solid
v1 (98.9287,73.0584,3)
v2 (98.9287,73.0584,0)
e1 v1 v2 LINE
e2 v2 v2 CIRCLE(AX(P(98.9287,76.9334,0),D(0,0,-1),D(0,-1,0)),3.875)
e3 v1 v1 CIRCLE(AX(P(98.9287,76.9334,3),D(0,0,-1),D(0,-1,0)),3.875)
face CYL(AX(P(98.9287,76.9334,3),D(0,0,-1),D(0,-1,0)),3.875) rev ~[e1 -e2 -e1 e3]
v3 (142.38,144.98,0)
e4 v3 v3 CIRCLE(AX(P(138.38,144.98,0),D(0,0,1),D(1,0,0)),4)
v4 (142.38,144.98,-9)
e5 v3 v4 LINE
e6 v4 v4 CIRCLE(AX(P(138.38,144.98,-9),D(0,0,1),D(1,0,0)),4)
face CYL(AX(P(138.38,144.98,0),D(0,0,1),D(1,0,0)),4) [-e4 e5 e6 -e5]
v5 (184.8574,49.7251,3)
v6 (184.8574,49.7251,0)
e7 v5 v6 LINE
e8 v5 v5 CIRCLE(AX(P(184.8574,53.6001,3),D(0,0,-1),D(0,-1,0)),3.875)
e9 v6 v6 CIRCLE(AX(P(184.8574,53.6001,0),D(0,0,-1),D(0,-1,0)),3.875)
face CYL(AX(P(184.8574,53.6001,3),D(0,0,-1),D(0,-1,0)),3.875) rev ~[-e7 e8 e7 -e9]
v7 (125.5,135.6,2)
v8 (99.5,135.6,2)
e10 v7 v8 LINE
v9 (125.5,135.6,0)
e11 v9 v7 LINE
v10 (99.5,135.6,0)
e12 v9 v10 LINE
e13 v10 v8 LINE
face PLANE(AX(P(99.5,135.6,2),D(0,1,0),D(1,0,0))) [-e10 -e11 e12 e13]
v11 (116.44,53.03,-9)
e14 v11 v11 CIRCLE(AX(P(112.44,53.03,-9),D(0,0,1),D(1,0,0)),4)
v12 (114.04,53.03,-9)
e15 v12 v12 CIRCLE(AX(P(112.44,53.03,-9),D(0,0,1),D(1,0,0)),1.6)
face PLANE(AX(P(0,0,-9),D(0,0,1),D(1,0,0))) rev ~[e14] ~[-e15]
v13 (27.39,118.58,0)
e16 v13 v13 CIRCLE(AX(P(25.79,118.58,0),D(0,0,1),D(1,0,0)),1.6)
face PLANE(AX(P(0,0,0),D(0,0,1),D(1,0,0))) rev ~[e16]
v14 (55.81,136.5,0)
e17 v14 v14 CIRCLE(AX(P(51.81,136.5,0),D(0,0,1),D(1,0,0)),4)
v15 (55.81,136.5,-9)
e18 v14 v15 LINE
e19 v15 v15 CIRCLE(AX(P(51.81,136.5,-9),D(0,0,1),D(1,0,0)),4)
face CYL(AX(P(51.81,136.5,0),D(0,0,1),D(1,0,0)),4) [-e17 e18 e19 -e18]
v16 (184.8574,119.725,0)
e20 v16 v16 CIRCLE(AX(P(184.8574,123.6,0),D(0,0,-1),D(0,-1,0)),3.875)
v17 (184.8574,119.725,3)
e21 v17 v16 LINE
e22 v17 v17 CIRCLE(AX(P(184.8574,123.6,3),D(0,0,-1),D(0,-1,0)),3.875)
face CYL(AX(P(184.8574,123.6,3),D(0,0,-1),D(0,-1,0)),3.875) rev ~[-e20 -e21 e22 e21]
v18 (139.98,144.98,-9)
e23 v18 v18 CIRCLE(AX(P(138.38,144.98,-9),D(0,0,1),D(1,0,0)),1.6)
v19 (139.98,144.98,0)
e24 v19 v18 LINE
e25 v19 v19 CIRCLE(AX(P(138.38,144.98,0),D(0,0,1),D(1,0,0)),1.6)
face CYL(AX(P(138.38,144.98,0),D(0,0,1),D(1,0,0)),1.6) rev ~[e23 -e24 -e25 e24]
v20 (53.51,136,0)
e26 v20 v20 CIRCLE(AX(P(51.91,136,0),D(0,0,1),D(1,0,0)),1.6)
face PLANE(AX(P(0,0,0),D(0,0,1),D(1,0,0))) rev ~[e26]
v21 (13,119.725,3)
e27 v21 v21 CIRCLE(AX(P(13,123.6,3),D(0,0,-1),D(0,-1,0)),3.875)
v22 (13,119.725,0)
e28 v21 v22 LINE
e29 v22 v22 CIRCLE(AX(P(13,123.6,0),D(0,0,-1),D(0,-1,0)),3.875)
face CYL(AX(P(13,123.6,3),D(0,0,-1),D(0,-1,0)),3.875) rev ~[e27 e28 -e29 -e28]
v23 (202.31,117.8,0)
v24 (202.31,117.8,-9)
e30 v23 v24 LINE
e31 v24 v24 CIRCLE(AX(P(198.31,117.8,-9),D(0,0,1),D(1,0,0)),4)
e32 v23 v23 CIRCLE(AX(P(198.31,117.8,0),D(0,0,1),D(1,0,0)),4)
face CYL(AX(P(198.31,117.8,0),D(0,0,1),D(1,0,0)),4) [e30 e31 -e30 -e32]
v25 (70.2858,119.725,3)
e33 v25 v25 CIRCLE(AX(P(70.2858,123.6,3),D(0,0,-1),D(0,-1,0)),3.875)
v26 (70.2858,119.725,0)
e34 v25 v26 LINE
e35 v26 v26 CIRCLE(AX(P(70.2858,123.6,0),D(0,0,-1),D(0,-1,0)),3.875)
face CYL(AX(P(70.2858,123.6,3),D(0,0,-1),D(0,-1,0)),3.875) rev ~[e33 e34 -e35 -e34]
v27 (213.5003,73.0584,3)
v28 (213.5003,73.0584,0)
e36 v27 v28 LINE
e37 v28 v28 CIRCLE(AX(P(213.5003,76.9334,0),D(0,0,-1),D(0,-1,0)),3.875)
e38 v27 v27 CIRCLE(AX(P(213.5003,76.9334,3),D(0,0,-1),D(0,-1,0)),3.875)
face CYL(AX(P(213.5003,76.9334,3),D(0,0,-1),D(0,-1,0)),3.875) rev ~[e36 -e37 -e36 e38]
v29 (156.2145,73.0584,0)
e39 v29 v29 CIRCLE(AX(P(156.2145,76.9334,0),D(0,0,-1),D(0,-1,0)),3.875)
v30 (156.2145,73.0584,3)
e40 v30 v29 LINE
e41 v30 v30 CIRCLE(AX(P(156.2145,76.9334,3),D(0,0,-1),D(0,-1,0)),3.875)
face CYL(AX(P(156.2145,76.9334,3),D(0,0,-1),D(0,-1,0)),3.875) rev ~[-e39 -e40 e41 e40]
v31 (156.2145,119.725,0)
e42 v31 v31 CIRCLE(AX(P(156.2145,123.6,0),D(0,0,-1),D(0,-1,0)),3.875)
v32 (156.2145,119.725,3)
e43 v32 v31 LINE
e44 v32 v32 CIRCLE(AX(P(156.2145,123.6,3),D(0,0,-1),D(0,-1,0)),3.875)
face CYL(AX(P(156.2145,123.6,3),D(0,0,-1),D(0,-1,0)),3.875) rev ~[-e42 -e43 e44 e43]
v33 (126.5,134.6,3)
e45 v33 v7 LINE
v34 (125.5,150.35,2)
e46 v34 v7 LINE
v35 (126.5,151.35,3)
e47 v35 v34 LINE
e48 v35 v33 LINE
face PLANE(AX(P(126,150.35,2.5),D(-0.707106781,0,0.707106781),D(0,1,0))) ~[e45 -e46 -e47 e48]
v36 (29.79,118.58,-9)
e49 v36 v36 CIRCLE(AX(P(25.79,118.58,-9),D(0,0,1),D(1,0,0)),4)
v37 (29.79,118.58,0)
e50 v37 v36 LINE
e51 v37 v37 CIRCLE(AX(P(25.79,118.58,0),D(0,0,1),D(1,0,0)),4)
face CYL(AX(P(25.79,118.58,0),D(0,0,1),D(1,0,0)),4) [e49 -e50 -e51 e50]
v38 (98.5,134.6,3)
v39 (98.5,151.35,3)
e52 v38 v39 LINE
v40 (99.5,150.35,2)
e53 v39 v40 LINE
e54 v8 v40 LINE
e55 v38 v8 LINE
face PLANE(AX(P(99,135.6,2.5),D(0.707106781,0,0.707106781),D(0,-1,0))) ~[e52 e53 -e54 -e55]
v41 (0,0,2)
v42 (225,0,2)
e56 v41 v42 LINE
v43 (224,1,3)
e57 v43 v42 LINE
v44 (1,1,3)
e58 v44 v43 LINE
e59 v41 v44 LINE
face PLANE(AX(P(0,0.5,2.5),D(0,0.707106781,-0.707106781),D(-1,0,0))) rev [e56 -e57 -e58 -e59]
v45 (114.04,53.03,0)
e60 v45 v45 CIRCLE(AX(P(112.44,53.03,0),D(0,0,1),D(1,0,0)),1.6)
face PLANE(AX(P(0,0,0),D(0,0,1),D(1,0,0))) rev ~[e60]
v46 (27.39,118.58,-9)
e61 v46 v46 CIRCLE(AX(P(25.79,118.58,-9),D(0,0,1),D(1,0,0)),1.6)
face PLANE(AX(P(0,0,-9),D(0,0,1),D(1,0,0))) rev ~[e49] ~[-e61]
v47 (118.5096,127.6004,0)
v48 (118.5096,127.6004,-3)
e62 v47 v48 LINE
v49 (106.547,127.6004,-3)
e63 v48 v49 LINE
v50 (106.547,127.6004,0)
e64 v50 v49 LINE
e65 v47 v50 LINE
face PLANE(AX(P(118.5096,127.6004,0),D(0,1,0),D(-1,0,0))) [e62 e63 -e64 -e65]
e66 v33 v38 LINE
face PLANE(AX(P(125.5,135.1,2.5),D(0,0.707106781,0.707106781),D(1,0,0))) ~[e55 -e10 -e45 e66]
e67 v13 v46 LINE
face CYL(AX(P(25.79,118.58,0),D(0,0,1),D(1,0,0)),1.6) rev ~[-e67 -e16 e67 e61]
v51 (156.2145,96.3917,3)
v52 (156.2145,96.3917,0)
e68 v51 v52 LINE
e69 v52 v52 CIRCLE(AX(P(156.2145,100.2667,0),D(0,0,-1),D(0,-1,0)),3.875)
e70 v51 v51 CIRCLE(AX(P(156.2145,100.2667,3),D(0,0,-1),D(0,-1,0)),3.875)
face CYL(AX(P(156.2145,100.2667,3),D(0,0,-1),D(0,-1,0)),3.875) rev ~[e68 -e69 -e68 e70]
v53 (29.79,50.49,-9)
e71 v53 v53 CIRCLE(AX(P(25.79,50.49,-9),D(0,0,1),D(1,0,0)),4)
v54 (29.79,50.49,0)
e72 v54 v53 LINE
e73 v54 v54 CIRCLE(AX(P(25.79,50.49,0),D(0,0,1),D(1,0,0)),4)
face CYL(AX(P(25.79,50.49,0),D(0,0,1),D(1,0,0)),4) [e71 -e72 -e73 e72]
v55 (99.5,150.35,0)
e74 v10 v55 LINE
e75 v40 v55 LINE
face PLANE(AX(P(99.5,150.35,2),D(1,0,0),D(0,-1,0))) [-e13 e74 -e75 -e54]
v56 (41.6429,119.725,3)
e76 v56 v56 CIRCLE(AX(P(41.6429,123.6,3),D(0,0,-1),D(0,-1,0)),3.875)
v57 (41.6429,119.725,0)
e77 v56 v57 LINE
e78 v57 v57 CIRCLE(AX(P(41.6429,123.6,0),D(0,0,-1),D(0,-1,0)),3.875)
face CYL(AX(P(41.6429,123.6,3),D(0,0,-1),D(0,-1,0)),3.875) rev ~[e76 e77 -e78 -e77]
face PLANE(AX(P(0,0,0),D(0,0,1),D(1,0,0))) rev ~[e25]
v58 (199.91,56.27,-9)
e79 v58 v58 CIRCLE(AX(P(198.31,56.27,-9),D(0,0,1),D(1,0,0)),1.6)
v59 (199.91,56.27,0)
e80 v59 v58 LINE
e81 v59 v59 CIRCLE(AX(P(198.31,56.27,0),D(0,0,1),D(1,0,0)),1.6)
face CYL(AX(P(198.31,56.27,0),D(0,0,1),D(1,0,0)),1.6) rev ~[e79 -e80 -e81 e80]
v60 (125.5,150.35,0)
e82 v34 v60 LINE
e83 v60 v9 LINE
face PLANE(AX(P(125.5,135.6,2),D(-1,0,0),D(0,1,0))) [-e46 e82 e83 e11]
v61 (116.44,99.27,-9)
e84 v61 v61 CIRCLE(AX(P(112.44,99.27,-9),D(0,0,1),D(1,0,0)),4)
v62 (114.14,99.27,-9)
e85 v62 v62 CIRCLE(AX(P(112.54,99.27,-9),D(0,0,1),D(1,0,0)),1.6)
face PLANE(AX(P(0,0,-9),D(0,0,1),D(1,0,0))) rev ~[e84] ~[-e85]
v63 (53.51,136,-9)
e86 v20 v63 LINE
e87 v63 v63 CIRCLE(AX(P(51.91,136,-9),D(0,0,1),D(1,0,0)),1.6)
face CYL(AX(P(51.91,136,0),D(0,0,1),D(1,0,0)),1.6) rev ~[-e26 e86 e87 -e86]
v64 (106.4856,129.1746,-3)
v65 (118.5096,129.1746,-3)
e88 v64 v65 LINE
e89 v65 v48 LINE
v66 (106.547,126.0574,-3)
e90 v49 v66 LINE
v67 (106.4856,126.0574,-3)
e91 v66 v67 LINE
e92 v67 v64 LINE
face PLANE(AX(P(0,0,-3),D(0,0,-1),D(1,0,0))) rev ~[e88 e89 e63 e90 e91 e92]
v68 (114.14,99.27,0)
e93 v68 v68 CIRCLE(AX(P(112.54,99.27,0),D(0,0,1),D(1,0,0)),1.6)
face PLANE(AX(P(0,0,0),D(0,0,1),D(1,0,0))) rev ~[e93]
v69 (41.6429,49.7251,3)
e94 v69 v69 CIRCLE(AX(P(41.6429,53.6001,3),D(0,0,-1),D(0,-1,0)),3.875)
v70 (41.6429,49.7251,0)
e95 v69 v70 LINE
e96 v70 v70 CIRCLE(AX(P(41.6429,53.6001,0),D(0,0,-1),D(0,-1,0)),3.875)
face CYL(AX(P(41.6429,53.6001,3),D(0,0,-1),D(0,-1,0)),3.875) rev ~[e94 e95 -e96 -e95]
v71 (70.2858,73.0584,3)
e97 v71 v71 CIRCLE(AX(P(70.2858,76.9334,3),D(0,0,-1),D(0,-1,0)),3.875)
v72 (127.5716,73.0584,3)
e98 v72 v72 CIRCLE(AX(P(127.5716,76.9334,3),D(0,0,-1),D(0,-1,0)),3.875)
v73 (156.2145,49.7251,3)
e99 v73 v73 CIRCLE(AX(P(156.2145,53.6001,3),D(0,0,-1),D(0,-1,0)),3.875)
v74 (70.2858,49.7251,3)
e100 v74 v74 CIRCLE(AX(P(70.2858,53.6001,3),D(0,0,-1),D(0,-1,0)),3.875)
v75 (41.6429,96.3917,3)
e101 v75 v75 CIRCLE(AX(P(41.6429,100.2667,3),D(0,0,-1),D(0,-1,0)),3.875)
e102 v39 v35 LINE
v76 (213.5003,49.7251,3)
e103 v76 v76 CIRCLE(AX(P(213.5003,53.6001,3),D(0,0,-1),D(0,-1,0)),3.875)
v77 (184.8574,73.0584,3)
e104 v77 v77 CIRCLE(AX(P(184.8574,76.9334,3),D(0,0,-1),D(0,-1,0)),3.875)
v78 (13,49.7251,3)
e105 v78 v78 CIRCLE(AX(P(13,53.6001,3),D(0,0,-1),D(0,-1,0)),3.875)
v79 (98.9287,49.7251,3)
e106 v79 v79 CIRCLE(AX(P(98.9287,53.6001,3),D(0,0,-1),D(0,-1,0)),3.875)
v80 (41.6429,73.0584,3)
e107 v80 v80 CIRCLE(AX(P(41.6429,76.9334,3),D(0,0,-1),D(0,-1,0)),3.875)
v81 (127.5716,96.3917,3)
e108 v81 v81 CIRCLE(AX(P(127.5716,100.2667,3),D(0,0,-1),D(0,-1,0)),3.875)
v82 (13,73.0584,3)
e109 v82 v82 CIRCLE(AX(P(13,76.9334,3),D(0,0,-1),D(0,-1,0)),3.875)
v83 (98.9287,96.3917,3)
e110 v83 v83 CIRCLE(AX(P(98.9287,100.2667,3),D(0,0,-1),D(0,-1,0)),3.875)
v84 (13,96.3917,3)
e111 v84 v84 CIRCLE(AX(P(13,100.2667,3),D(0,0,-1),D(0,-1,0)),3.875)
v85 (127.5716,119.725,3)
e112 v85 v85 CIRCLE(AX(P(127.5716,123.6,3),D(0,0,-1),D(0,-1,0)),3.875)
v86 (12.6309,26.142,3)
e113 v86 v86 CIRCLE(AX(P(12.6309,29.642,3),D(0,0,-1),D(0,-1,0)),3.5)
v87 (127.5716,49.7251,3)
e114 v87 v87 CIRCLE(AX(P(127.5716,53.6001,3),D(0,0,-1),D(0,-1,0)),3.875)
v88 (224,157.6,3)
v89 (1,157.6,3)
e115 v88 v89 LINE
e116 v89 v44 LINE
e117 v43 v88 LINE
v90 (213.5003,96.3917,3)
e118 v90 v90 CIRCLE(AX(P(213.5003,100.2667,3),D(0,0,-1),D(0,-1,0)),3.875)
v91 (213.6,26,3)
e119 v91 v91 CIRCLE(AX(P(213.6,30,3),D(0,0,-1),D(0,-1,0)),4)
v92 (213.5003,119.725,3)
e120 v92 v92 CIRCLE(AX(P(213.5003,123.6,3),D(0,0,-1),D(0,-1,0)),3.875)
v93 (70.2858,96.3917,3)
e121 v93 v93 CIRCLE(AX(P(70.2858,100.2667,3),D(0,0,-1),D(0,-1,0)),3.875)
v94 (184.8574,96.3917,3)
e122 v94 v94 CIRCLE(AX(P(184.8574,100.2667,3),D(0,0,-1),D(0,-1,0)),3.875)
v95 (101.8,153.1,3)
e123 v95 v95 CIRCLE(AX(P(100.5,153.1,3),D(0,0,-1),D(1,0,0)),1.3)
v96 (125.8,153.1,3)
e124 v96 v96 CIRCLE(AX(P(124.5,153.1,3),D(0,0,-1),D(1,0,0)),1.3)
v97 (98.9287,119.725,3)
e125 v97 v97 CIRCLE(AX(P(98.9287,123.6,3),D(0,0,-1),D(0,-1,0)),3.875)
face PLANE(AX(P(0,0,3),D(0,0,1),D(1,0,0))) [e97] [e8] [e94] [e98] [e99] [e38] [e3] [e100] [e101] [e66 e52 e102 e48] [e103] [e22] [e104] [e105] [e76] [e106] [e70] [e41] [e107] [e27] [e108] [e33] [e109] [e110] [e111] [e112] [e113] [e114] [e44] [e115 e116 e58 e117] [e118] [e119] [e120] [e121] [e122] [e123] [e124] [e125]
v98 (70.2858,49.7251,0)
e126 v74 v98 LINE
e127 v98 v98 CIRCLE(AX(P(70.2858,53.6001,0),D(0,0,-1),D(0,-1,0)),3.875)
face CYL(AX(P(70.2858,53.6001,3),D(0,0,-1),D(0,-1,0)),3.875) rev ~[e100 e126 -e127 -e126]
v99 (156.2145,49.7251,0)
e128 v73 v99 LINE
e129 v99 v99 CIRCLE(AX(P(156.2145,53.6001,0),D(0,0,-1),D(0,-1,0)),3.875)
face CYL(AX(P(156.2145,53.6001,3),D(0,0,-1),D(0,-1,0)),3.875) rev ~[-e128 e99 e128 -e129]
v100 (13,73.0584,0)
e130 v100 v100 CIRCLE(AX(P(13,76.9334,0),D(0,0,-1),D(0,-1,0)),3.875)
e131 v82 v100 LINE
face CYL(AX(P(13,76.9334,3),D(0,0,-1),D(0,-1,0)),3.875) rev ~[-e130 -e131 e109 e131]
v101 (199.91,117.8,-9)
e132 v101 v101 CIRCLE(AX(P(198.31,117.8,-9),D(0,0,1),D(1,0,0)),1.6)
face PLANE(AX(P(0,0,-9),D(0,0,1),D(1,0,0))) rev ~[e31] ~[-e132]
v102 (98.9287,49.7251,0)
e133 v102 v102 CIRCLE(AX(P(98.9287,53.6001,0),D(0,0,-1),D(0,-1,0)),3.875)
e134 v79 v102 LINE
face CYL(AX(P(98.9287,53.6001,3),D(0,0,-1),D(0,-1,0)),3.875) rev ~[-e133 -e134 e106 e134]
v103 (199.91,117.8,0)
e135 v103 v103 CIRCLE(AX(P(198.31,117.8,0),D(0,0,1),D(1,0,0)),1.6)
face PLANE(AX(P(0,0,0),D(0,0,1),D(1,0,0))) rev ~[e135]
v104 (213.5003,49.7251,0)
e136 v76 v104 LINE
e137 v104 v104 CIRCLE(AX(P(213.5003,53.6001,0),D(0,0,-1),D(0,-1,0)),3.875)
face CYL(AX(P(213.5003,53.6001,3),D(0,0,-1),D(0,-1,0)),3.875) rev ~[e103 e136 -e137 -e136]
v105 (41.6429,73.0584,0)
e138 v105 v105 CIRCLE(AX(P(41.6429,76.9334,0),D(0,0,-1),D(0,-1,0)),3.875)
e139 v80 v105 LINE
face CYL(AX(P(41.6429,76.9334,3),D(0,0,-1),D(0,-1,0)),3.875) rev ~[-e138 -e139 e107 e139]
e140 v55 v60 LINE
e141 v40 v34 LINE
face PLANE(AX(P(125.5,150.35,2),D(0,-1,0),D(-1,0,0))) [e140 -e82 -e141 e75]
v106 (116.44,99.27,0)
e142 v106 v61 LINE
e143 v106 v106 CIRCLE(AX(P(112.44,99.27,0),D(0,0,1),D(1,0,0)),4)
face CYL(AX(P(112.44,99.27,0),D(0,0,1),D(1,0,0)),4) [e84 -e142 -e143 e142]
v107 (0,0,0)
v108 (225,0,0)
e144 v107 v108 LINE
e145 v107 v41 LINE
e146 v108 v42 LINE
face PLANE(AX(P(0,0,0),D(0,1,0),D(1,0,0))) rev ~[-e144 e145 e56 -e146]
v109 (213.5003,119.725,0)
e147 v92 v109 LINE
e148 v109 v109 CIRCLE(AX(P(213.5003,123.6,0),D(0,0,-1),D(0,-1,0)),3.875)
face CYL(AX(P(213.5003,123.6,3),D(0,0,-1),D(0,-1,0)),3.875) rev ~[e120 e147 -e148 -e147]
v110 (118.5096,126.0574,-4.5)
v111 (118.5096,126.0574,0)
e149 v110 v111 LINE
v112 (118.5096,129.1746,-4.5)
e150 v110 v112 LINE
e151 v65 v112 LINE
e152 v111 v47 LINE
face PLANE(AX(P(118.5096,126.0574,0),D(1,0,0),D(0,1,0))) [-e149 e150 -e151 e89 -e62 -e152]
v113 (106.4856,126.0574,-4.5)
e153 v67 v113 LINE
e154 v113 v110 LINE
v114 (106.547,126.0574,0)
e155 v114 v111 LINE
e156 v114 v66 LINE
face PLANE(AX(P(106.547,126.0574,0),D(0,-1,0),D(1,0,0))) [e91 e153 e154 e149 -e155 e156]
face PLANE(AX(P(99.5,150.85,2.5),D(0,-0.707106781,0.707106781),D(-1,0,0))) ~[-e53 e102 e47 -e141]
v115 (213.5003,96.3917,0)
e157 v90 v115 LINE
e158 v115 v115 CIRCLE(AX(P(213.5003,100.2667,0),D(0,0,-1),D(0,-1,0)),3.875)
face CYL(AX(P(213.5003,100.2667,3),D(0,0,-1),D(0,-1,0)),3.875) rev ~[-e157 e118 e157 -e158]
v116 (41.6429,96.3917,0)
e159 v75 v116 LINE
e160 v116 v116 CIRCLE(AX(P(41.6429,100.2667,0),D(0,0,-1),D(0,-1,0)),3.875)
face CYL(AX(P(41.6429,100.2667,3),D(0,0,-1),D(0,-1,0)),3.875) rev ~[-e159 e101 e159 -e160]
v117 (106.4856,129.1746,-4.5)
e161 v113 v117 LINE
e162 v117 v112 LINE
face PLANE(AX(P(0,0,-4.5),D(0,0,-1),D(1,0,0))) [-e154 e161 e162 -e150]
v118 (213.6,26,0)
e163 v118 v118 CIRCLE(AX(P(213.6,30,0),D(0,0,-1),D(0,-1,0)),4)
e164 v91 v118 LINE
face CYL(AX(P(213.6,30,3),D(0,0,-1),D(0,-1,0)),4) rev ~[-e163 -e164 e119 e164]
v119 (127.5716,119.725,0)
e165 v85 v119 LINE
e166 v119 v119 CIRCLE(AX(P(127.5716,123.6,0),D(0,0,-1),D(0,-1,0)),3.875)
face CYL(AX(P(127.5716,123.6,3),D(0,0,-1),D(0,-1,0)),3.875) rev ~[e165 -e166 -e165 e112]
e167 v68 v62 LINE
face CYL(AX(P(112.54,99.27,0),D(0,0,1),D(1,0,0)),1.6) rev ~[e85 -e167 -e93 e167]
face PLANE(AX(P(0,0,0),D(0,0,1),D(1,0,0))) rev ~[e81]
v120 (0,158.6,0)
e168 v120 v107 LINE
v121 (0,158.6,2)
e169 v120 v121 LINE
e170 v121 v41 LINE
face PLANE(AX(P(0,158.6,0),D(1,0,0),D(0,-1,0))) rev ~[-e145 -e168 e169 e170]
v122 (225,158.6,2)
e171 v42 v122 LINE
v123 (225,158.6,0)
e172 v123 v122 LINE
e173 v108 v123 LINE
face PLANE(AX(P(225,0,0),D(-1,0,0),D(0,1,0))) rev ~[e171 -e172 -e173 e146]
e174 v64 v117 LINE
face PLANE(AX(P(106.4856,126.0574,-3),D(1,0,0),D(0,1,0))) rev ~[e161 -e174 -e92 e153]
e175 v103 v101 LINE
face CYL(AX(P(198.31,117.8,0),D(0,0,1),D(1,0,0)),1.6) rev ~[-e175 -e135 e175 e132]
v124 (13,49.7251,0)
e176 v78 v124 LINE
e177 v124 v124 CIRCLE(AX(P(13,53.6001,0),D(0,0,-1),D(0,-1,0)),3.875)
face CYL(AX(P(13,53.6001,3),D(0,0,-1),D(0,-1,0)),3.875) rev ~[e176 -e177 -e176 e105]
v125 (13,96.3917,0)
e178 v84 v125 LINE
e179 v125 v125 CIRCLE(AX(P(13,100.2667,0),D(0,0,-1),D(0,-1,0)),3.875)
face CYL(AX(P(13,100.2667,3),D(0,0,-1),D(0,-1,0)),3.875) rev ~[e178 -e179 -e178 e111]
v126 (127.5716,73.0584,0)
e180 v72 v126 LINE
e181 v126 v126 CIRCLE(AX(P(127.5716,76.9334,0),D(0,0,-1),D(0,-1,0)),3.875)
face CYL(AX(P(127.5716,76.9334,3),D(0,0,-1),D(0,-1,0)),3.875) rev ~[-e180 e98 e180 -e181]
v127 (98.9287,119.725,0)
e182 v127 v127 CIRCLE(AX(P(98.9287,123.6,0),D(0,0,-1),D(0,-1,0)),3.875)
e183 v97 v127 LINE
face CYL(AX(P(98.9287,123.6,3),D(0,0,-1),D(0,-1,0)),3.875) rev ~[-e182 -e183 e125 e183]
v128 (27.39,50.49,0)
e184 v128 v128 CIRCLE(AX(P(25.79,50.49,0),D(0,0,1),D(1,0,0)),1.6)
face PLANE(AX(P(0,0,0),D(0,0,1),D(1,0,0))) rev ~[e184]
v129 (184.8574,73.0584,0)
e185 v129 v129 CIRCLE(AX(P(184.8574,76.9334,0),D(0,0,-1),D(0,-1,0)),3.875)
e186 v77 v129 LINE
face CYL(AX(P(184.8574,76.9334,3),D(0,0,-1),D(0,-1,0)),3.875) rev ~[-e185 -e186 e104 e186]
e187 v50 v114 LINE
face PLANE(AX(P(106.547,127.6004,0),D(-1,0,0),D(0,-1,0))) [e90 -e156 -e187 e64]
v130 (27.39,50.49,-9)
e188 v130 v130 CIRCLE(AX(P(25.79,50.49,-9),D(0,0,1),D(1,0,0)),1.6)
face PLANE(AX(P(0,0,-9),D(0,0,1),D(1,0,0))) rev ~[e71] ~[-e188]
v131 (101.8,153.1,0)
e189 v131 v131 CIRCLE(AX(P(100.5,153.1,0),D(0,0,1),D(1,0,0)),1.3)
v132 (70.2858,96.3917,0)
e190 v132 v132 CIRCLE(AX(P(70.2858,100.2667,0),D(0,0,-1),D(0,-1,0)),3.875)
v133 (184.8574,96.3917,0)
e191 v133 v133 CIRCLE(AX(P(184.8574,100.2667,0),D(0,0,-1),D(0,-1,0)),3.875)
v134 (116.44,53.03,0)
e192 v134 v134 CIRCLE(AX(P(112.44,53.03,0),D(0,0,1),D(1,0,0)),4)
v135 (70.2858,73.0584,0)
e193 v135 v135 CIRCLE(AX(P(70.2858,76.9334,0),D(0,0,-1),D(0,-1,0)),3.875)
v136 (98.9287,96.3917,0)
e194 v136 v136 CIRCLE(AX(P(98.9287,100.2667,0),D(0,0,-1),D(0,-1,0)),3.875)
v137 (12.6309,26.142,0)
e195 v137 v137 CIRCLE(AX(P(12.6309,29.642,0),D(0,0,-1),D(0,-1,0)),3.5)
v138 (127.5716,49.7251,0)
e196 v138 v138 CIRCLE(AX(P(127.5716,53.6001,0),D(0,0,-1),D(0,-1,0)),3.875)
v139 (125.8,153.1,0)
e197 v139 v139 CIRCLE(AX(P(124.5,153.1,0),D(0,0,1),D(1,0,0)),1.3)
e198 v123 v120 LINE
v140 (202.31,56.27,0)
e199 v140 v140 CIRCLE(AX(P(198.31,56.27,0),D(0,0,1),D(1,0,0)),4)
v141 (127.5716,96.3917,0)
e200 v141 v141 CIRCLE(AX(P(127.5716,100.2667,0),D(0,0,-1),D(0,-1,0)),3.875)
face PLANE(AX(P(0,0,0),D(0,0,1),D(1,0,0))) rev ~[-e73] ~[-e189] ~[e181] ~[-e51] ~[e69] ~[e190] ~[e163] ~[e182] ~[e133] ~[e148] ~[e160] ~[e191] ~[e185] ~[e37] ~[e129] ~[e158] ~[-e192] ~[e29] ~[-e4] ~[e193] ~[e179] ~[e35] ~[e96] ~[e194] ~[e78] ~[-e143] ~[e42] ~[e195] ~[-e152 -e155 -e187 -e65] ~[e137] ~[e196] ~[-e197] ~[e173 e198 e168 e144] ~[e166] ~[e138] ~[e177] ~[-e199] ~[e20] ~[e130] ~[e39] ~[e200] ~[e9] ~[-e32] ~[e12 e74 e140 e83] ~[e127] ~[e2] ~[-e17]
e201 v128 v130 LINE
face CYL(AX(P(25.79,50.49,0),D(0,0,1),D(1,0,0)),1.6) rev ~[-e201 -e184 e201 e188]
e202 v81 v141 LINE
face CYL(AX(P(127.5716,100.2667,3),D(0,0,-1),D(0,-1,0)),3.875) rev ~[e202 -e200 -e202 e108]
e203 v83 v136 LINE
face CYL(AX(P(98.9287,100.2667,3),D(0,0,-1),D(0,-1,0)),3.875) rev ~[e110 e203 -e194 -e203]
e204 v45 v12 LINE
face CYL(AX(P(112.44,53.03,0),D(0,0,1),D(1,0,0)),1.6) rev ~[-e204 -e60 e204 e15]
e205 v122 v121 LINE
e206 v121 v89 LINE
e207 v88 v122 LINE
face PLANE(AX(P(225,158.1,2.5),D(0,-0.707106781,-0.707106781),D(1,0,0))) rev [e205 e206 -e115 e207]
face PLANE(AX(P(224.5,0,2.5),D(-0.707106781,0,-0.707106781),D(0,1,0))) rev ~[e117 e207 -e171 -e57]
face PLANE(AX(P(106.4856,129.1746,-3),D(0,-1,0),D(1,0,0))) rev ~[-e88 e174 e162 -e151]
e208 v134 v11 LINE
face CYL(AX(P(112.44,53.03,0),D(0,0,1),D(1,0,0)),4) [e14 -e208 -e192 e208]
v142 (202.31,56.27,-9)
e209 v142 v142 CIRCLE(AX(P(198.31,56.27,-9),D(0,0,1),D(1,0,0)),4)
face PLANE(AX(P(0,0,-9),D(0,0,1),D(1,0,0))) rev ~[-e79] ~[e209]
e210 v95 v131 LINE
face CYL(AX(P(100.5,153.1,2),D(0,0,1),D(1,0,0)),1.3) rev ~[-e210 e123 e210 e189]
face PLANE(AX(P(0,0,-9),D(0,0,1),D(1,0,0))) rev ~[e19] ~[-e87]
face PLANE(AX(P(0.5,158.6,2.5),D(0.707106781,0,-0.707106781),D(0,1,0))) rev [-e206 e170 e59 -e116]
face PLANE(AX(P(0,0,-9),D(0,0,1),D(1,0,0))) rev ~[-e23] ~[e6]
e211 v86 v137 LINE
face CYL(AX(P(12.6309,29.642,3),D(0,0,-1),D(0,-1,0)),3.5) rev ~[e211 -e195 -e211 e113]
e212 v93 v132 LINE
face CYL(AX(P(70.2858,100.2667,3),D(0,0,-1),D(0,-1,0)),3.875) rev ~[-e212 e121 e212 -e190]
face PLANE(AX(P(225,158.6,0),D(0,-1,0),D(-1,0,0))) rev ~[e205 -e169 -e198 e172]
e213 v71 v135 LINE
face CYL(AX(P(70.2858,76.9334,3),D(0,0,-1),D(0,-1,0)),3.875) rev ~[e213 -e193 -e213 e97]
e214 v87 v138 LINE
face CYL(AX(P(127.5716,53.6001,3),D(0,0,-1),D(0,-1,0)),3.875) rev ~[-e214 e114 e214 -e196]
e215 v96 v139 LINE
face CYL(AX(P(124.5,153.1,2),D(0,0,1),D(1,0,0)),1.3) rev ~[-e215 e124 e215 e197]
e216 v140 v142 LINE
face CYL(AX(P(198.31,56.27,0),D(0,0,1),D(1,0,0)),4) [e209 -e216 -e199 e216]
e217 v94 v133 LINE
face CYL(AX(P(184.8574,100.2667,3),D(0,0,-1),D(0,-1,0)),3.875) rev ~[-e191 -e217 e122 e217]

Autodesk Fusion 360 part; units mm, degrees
sketch "Sketch1" plane through (0, 0, 0) normal (0, 0, 1) x (1, 0, 0)
  line L0 (0, 0) -> (225, 0)
  line L1 (225, 0) -> (225, 158.6)
  line L2 (225, 158.6) -> (0, 158.6)
  line L3 (0, 158.6) -> (0, 0)
  dimension "d1" = 158.6
  dimension "d2" = 225
extrude "Extrude1" add sketch "Sketch1" along normal blind 3
sketch "Sketch2" plane through (0, 0, 3) normal (0, 0, 1) x (-1, 0, 0)
  line L0 (0, -158.6) -> (0, 0)
  line L1 (0, 0) -> (-225, 0)
  line L2 (-225, 0) -> (-225, -158.6)
  line L3 (-225, -158.6) -> (0, -158.6)
  circle A0 centre (-13, -123.6) radius 3.25
  dimension "d5" = 13
  dimension "d6" = 35
  dimension "d7" = 6.5
hole "Hole1" at (13, 123.6, 3) direction (0, 0, -1) diameter 7.75 end through all
pattern_linear "R-Pattern4" count 4 spacing 23.3333 along (0, -1, 0) count 8 spacing 28.6429 along (1, 0, 0) of "Hole1"
sketch "MountingPostsSketch" plane through (0, 0, 0) normal (0, 0, 1) x (1, 0, 0)
  circle A0 centre (25.79, 118.58) radius 4
  circle A1 centre (25.79, 50.49) radius 4
  circle A2 centre (51.81, 136.5) radius 4
  circle A3 centre (112.44, 99.27) radius 4
  circle A4 centre (112.44, 53.03) radius 4
  circle A5 centre (138.38, 144.98) radius 4
  circle A6 centre (198.31, 117.8) radius 4
  circle A7 centre (198.31, 56.27) radius 4
  dimension "d47" = 8
  dimension "d48" = 8
  dimension "d50" = 8
  dimension "d51" = 8
  dimension "d52" = 8
  dimension "d53" = 8
  dimension "d54" = 8
  dimension "d55" = 8
extrude "Extrude2" add sketch "MountingPostsSketch" against normal blind 9
sketch "M3HolesSketch" plane through (0, 0, 0) normal (0, 0, 1) x (1, 0, 0)
  circle A0 centre (25.79, 118.58) radius 1.6
  circle A1 centre (25.79, 50.49) radius 1.6
  circle A2 centre (51.91, 136) radius 1.6
  circle A3 centre (112.54, 99.27) radius 1.6
  circle A4 centre (112.44, 53.03) radius 1.6
  circle A5 centre (138.38, 144.98) radius 1.6
  circle A6 centre (198.31, 117.8) radius 1.6
  circle A7 centre (198.31, 56.27) radius 1.6
  circle A8 centre (198.31, 117.8) radius 4
  dimension "d49" = 8
ref_plane "WorkPlane1" through (0, 0, 2) normal (0, 0, 1) x (1, 0, 0)
sketch "OLED_Opening_Sketch" plane through (0, 0, 2) normal (0, 0, 1) x (1, 0, 0)
  line L0 (99.5, 135.6) -> (125.5, 135.6)
  line L1 (125.5, 135.6) -> (125.5, 150.35)
  line L2 (125.5, 150.35) -> (99.5, 150.35)
  line L3 (99.5, 150.35) -> (99.5, 135.6)
extrude "Extrude4" cut sketch "OLED_Opening_Sketch" along normal through all and the other way through all
ref_plane "WorkPlane2" through (0, 0, 2) normal (0, 0, 1) x (1, 0, 0)
sketch "MountingHoles_Sketch" plane through (0, 0, 2) normal (0, 0, 1) x (1, 0, 0)
  circle A0 centre (100.5, 153.1) radius 1.3
  circle A1 centre (124.5, 153.1) radius 1.3
  dimension "d56" = 2.6
  dimension "d57" = 2.6
extrude "Extrude5" cut sketch "MountingHoles_Sketch" along normal blind 15 and the other way blind 3
sketch "Sketch7" plane through (0, 0, 0) normal (0, 0, -1) x (1, 0, 0)
  line L0 (125.5, -150.35) -> (99.5, -150.35)
  line L1 (99.5, -150.35) -> (99.5, -135.6)
  line L2 (99.5, -135.6) -> (125.5, -135.6)
  line L3 (125.5, -135.6) -> (125.5, -150.35)
  circle A0 centre (213.5003, -76.9334) radius 3.875
  circle A1 centre (213.5003, -123.6) radius 3.875
  circle A2 centre (184.8574, -76.9334) radius 3.875
  circle A3 centre (184.8574, -123.6) radius 3.875
  circle A4 centre (156.2145, -76.9334) radius 3.875
  circle A5 centre (156.2145, -123.6) radius 3.875
  circle A6 centre (127.5716, -76.9334) radius 3.875
  circle A7 centre (127.5716, -123.6) radius 3.875
  circle A8 centre (98.9287, -76.9334) radius 3.875
  circle A9 centre (98.9287, -123.6) radius 3.875
  circle A10 centre (70.2858, -76.9334) radius 3.875
  circle A11 centre (70.2858, -123.6) radius 3.875
  line L4 (0, 0) -> (0, -158.6)
  line L5 (0, -158.6) -> (225, -158.6)
  line L6 (225, -158.6) -> (225, 0)
  line L7 (225, 0) -> (0, 0)
  circle A12 centre (13, -123.6) radius 3.875
  circle A13 centre (13, -100.2667) radius 3.875
  circle A14 centre (13, -76.9334) radius 3.875
  circle A15 centre (13, -53.6001) radius 3.875
  circle A16 centre (41.6429, -123.6) radius 3.875
  circle A17 centre (41.6429, -100.2667) radius 3.875
  circle A18 centre (41.6429, -76.9334) radius 3.875
  circle A19 centre (41.6429, -53.6001) radius 3.875
  circle A20 centre (70.2858, -100.2667) radius 3.875
  circle A21 centre (70.2858, -53.6001) radius 3.875
  circle A22 centre (98.9287, -100.2667) radius 3.875
  circle A23 centre (98.9287, -53.6001) radius 3.875
  circle A24 centre (127.5716, -100.2667) radius 3.875
  circle A25 centre (127.5716, -53.6001) radius 3.875
  circle A26 centre (156.2145, -100.2667) radius 3.875
  circle A27 centre (156.2145, -53.6001) radius 3.875
  circle A28 centre (184.8574, -100.2667) radius 3.875
  circle A29 centre (184.8574, -53.6001) radius 3.875
  circle A30 centre (213.5003, -100.2667) radius 3.875
  circle A31 centre (213.5003, -53.6001) radius 3.875
  line L8 (118.5096, -127.6004) -> (106.547, -127.6004)
  line L9 (106.547, -127.6004) -> (106.547, -126.0574)
  line L10 (106.547, -126.0574) -> (118.5096, -126.0574)
  line L11 (118.5096, -126.0574) -> (118.5096, -127.6004)
  circle A32 centre (138.38, -144.98) radius 4
  circle A33 centre (51.81, -136.5) radius 4
  circle A34 centre (112.44, -99.27) radius 4
  circle A35 centre (198.31, -117.8) radius 4
  circle A36 centre (112.44, -53.03) radius 4
  circle A37 centre (25.79, -50.49) radius 4
  circle A38 centre (25.79, -118.58) radius 4
  circle A39 centre (198.31, -56.27) radius 4
  circle A40 centre (124.5, -153.1) radius 1.3
  circle A41 centre (100.5, -153.1) radius 1.3
extrude "Extrude6" add sketch "Sketch7" along normal blind 3 contours L8 L9 L10 L11
sketch "Sketch8" plane through (0, 0, -3) normal (0, 0, -1) x (1, 0, 0)
  line L0 (118.5096, -126.0574) -> (106.547, -126.0574)
  line L1 (106.547, -126.0574) -> (106.547, -127.6004)
  line L2 (106.547, -127.6004) -> (118.5096, -127.6004)
  line L3 (118.5096, -127.6004) -> (118.5096, -126.0574)
  line L4 (118.5096, -126.0574) -> (106.4856, -126.0574)
  line L5 (106.4856, -126.0574) -> (106.4856, -129.1746)
  line L6 (106.4856, -129.1746) -> (118.5096, -129.1746)
  line L7 (118.5096, -129.1746) -> (118.5096, -126.0574)
extrude "Extrude3" cut sketch "M3HolesSketch" against normal blind 9 contours A0 | A1 | A2 | A3 | A4 | A5 | A6 | A7
extrude "Extrude7" add sketch "Sketch8" along normal blind 1.5
chamfer "Chamfer1" distance 1 angle 45 4 edges at (225, 79.3, 3) (112.5, 158.6, 3) (0, 79.3, 3) (112.5, 0, 3)
chamfer "Chamfer2" distance 1 angle 45 4 edges at (112.5, 135.6, 3) (99.5, 142.975, 3) (112.5, 150.35, 3) (125.5, 142.975, 3)
sketch "Sketch9" plane through (0, 0, 3) normal (0, 0, 1) x (-1, 0, 0)
  line L0 (-1, -157.6) -> (-1, -1)
  line L1 (-1, -1) -> (-224, -1)
  line L2 (-224, -1) -> (-224, -157.6)
  line L3 (-224, -157.6) -> (-1, -157.6)
  circle A0 centre (-213.5003, -76.9334) radius 3.875
  circle A1 centre (-213.5003, -123.6) radius 3.875
  circle A2 centre (-184.8574, -76.9334) radius 3.875
  circle A3 centre (-184.8574, -123.6) radius 3.875
  circle A4 centre (-156.2145, -76.9334) radius 3.875
  circle A5 centre (-156.2145, -123.6) radius 3.875
  circle A6 centre (-127.5716, -76.9334) radius 3.875
  circle A7 centre (-127.5716, -123.6) radius 3.875
  circle A8 centre (-98.9287, -76.9334) radius 3.875
  circle A9 centre (-98.9287, -123.6) radius 3.875
  circle A10 centre (-70.2858, -76.9334) radius 3.875
  circle A11 centre (-70.2858, -123.6) radius 3.875
  circle A12 centre (-13, -123.6) radius 3.875
  circle A13 centre (-13, -100.2667) radius 3.875
  circle A14 centre (-13, -76.9334) radius 3.875
  circle A15 centre (-13, -53.6001) radius 3.875
  circle A16 centre (-41.6429, -123.6) radius 3.875
  circle A17 centre (-41.6429, -100.2667) radius 3.875
  circle A18 centre (-41.6429, -76.9334) radius 3.875
  circle A19 centre (-41.6429, -53.6001) radius 3.875
  circle A20 centre (-70.2858, -100.2667) radius 3.875
  circle A21 centre (-70.2858, -53.6001) radius 3.875
  circle A22 centre (-98.9287, -100.2667) radius 3.875
  circle A23 centre (-98.9287, -53.6001) radius 3.875
  circle A24 centre (-127.5716, -100.2667) radius 3.875
  circle A25 centre (-127.5716, -53.6001) radius 3.875
  circle A26 centre (-156.2145, -100.2667) radius 3.875
  circle A27 centre (-156.2145, -53.6001) radius 3.875
  circle A28 centre (-184.8574, -100.2667) radius 3.875
  circle A29 centre (-184.8574, -53.6001) radius 3.875
  circle A30 centre (-213.5003, -100.2667) radius 3.875
  circle A31 centre (-213.5003, -53.6001) radius 3.875
  circle A32 centre (-124.5, -153.1) radius 1.3
  circle A33 centre (-100.5, -153.1) radius 1.3
  line L4 (-126.5, -134.6) -> (-98.5, -134.6)
  line L5 (-98.5, -134.6) -> (-98.5, -151.35)
  line L6 (-98.5, -151.35) -> (-126.5, -151.35)
  line L7 (-126.5, -151.35) -> (-126.5, -134.6)
  circle A34 centre (-213.6, -30) radius 4
  circle A35 centre (-12.6309, -29.642) radius 4
  dimension "d58" = 8
  dimension "d62" = 8
hole "Hole2" at (213.6, 30, 3) direction (0, 0, -1) diameter 8 depth 3 tip angle 118
hole "Hole3" at (12.6309, 29.642, 3) direction (0, 0, -1) diameter 7 depth 3 tip angle 118
equation "d22 = -( 9 mm )"
equation "d24 = -( 9 mm )"
